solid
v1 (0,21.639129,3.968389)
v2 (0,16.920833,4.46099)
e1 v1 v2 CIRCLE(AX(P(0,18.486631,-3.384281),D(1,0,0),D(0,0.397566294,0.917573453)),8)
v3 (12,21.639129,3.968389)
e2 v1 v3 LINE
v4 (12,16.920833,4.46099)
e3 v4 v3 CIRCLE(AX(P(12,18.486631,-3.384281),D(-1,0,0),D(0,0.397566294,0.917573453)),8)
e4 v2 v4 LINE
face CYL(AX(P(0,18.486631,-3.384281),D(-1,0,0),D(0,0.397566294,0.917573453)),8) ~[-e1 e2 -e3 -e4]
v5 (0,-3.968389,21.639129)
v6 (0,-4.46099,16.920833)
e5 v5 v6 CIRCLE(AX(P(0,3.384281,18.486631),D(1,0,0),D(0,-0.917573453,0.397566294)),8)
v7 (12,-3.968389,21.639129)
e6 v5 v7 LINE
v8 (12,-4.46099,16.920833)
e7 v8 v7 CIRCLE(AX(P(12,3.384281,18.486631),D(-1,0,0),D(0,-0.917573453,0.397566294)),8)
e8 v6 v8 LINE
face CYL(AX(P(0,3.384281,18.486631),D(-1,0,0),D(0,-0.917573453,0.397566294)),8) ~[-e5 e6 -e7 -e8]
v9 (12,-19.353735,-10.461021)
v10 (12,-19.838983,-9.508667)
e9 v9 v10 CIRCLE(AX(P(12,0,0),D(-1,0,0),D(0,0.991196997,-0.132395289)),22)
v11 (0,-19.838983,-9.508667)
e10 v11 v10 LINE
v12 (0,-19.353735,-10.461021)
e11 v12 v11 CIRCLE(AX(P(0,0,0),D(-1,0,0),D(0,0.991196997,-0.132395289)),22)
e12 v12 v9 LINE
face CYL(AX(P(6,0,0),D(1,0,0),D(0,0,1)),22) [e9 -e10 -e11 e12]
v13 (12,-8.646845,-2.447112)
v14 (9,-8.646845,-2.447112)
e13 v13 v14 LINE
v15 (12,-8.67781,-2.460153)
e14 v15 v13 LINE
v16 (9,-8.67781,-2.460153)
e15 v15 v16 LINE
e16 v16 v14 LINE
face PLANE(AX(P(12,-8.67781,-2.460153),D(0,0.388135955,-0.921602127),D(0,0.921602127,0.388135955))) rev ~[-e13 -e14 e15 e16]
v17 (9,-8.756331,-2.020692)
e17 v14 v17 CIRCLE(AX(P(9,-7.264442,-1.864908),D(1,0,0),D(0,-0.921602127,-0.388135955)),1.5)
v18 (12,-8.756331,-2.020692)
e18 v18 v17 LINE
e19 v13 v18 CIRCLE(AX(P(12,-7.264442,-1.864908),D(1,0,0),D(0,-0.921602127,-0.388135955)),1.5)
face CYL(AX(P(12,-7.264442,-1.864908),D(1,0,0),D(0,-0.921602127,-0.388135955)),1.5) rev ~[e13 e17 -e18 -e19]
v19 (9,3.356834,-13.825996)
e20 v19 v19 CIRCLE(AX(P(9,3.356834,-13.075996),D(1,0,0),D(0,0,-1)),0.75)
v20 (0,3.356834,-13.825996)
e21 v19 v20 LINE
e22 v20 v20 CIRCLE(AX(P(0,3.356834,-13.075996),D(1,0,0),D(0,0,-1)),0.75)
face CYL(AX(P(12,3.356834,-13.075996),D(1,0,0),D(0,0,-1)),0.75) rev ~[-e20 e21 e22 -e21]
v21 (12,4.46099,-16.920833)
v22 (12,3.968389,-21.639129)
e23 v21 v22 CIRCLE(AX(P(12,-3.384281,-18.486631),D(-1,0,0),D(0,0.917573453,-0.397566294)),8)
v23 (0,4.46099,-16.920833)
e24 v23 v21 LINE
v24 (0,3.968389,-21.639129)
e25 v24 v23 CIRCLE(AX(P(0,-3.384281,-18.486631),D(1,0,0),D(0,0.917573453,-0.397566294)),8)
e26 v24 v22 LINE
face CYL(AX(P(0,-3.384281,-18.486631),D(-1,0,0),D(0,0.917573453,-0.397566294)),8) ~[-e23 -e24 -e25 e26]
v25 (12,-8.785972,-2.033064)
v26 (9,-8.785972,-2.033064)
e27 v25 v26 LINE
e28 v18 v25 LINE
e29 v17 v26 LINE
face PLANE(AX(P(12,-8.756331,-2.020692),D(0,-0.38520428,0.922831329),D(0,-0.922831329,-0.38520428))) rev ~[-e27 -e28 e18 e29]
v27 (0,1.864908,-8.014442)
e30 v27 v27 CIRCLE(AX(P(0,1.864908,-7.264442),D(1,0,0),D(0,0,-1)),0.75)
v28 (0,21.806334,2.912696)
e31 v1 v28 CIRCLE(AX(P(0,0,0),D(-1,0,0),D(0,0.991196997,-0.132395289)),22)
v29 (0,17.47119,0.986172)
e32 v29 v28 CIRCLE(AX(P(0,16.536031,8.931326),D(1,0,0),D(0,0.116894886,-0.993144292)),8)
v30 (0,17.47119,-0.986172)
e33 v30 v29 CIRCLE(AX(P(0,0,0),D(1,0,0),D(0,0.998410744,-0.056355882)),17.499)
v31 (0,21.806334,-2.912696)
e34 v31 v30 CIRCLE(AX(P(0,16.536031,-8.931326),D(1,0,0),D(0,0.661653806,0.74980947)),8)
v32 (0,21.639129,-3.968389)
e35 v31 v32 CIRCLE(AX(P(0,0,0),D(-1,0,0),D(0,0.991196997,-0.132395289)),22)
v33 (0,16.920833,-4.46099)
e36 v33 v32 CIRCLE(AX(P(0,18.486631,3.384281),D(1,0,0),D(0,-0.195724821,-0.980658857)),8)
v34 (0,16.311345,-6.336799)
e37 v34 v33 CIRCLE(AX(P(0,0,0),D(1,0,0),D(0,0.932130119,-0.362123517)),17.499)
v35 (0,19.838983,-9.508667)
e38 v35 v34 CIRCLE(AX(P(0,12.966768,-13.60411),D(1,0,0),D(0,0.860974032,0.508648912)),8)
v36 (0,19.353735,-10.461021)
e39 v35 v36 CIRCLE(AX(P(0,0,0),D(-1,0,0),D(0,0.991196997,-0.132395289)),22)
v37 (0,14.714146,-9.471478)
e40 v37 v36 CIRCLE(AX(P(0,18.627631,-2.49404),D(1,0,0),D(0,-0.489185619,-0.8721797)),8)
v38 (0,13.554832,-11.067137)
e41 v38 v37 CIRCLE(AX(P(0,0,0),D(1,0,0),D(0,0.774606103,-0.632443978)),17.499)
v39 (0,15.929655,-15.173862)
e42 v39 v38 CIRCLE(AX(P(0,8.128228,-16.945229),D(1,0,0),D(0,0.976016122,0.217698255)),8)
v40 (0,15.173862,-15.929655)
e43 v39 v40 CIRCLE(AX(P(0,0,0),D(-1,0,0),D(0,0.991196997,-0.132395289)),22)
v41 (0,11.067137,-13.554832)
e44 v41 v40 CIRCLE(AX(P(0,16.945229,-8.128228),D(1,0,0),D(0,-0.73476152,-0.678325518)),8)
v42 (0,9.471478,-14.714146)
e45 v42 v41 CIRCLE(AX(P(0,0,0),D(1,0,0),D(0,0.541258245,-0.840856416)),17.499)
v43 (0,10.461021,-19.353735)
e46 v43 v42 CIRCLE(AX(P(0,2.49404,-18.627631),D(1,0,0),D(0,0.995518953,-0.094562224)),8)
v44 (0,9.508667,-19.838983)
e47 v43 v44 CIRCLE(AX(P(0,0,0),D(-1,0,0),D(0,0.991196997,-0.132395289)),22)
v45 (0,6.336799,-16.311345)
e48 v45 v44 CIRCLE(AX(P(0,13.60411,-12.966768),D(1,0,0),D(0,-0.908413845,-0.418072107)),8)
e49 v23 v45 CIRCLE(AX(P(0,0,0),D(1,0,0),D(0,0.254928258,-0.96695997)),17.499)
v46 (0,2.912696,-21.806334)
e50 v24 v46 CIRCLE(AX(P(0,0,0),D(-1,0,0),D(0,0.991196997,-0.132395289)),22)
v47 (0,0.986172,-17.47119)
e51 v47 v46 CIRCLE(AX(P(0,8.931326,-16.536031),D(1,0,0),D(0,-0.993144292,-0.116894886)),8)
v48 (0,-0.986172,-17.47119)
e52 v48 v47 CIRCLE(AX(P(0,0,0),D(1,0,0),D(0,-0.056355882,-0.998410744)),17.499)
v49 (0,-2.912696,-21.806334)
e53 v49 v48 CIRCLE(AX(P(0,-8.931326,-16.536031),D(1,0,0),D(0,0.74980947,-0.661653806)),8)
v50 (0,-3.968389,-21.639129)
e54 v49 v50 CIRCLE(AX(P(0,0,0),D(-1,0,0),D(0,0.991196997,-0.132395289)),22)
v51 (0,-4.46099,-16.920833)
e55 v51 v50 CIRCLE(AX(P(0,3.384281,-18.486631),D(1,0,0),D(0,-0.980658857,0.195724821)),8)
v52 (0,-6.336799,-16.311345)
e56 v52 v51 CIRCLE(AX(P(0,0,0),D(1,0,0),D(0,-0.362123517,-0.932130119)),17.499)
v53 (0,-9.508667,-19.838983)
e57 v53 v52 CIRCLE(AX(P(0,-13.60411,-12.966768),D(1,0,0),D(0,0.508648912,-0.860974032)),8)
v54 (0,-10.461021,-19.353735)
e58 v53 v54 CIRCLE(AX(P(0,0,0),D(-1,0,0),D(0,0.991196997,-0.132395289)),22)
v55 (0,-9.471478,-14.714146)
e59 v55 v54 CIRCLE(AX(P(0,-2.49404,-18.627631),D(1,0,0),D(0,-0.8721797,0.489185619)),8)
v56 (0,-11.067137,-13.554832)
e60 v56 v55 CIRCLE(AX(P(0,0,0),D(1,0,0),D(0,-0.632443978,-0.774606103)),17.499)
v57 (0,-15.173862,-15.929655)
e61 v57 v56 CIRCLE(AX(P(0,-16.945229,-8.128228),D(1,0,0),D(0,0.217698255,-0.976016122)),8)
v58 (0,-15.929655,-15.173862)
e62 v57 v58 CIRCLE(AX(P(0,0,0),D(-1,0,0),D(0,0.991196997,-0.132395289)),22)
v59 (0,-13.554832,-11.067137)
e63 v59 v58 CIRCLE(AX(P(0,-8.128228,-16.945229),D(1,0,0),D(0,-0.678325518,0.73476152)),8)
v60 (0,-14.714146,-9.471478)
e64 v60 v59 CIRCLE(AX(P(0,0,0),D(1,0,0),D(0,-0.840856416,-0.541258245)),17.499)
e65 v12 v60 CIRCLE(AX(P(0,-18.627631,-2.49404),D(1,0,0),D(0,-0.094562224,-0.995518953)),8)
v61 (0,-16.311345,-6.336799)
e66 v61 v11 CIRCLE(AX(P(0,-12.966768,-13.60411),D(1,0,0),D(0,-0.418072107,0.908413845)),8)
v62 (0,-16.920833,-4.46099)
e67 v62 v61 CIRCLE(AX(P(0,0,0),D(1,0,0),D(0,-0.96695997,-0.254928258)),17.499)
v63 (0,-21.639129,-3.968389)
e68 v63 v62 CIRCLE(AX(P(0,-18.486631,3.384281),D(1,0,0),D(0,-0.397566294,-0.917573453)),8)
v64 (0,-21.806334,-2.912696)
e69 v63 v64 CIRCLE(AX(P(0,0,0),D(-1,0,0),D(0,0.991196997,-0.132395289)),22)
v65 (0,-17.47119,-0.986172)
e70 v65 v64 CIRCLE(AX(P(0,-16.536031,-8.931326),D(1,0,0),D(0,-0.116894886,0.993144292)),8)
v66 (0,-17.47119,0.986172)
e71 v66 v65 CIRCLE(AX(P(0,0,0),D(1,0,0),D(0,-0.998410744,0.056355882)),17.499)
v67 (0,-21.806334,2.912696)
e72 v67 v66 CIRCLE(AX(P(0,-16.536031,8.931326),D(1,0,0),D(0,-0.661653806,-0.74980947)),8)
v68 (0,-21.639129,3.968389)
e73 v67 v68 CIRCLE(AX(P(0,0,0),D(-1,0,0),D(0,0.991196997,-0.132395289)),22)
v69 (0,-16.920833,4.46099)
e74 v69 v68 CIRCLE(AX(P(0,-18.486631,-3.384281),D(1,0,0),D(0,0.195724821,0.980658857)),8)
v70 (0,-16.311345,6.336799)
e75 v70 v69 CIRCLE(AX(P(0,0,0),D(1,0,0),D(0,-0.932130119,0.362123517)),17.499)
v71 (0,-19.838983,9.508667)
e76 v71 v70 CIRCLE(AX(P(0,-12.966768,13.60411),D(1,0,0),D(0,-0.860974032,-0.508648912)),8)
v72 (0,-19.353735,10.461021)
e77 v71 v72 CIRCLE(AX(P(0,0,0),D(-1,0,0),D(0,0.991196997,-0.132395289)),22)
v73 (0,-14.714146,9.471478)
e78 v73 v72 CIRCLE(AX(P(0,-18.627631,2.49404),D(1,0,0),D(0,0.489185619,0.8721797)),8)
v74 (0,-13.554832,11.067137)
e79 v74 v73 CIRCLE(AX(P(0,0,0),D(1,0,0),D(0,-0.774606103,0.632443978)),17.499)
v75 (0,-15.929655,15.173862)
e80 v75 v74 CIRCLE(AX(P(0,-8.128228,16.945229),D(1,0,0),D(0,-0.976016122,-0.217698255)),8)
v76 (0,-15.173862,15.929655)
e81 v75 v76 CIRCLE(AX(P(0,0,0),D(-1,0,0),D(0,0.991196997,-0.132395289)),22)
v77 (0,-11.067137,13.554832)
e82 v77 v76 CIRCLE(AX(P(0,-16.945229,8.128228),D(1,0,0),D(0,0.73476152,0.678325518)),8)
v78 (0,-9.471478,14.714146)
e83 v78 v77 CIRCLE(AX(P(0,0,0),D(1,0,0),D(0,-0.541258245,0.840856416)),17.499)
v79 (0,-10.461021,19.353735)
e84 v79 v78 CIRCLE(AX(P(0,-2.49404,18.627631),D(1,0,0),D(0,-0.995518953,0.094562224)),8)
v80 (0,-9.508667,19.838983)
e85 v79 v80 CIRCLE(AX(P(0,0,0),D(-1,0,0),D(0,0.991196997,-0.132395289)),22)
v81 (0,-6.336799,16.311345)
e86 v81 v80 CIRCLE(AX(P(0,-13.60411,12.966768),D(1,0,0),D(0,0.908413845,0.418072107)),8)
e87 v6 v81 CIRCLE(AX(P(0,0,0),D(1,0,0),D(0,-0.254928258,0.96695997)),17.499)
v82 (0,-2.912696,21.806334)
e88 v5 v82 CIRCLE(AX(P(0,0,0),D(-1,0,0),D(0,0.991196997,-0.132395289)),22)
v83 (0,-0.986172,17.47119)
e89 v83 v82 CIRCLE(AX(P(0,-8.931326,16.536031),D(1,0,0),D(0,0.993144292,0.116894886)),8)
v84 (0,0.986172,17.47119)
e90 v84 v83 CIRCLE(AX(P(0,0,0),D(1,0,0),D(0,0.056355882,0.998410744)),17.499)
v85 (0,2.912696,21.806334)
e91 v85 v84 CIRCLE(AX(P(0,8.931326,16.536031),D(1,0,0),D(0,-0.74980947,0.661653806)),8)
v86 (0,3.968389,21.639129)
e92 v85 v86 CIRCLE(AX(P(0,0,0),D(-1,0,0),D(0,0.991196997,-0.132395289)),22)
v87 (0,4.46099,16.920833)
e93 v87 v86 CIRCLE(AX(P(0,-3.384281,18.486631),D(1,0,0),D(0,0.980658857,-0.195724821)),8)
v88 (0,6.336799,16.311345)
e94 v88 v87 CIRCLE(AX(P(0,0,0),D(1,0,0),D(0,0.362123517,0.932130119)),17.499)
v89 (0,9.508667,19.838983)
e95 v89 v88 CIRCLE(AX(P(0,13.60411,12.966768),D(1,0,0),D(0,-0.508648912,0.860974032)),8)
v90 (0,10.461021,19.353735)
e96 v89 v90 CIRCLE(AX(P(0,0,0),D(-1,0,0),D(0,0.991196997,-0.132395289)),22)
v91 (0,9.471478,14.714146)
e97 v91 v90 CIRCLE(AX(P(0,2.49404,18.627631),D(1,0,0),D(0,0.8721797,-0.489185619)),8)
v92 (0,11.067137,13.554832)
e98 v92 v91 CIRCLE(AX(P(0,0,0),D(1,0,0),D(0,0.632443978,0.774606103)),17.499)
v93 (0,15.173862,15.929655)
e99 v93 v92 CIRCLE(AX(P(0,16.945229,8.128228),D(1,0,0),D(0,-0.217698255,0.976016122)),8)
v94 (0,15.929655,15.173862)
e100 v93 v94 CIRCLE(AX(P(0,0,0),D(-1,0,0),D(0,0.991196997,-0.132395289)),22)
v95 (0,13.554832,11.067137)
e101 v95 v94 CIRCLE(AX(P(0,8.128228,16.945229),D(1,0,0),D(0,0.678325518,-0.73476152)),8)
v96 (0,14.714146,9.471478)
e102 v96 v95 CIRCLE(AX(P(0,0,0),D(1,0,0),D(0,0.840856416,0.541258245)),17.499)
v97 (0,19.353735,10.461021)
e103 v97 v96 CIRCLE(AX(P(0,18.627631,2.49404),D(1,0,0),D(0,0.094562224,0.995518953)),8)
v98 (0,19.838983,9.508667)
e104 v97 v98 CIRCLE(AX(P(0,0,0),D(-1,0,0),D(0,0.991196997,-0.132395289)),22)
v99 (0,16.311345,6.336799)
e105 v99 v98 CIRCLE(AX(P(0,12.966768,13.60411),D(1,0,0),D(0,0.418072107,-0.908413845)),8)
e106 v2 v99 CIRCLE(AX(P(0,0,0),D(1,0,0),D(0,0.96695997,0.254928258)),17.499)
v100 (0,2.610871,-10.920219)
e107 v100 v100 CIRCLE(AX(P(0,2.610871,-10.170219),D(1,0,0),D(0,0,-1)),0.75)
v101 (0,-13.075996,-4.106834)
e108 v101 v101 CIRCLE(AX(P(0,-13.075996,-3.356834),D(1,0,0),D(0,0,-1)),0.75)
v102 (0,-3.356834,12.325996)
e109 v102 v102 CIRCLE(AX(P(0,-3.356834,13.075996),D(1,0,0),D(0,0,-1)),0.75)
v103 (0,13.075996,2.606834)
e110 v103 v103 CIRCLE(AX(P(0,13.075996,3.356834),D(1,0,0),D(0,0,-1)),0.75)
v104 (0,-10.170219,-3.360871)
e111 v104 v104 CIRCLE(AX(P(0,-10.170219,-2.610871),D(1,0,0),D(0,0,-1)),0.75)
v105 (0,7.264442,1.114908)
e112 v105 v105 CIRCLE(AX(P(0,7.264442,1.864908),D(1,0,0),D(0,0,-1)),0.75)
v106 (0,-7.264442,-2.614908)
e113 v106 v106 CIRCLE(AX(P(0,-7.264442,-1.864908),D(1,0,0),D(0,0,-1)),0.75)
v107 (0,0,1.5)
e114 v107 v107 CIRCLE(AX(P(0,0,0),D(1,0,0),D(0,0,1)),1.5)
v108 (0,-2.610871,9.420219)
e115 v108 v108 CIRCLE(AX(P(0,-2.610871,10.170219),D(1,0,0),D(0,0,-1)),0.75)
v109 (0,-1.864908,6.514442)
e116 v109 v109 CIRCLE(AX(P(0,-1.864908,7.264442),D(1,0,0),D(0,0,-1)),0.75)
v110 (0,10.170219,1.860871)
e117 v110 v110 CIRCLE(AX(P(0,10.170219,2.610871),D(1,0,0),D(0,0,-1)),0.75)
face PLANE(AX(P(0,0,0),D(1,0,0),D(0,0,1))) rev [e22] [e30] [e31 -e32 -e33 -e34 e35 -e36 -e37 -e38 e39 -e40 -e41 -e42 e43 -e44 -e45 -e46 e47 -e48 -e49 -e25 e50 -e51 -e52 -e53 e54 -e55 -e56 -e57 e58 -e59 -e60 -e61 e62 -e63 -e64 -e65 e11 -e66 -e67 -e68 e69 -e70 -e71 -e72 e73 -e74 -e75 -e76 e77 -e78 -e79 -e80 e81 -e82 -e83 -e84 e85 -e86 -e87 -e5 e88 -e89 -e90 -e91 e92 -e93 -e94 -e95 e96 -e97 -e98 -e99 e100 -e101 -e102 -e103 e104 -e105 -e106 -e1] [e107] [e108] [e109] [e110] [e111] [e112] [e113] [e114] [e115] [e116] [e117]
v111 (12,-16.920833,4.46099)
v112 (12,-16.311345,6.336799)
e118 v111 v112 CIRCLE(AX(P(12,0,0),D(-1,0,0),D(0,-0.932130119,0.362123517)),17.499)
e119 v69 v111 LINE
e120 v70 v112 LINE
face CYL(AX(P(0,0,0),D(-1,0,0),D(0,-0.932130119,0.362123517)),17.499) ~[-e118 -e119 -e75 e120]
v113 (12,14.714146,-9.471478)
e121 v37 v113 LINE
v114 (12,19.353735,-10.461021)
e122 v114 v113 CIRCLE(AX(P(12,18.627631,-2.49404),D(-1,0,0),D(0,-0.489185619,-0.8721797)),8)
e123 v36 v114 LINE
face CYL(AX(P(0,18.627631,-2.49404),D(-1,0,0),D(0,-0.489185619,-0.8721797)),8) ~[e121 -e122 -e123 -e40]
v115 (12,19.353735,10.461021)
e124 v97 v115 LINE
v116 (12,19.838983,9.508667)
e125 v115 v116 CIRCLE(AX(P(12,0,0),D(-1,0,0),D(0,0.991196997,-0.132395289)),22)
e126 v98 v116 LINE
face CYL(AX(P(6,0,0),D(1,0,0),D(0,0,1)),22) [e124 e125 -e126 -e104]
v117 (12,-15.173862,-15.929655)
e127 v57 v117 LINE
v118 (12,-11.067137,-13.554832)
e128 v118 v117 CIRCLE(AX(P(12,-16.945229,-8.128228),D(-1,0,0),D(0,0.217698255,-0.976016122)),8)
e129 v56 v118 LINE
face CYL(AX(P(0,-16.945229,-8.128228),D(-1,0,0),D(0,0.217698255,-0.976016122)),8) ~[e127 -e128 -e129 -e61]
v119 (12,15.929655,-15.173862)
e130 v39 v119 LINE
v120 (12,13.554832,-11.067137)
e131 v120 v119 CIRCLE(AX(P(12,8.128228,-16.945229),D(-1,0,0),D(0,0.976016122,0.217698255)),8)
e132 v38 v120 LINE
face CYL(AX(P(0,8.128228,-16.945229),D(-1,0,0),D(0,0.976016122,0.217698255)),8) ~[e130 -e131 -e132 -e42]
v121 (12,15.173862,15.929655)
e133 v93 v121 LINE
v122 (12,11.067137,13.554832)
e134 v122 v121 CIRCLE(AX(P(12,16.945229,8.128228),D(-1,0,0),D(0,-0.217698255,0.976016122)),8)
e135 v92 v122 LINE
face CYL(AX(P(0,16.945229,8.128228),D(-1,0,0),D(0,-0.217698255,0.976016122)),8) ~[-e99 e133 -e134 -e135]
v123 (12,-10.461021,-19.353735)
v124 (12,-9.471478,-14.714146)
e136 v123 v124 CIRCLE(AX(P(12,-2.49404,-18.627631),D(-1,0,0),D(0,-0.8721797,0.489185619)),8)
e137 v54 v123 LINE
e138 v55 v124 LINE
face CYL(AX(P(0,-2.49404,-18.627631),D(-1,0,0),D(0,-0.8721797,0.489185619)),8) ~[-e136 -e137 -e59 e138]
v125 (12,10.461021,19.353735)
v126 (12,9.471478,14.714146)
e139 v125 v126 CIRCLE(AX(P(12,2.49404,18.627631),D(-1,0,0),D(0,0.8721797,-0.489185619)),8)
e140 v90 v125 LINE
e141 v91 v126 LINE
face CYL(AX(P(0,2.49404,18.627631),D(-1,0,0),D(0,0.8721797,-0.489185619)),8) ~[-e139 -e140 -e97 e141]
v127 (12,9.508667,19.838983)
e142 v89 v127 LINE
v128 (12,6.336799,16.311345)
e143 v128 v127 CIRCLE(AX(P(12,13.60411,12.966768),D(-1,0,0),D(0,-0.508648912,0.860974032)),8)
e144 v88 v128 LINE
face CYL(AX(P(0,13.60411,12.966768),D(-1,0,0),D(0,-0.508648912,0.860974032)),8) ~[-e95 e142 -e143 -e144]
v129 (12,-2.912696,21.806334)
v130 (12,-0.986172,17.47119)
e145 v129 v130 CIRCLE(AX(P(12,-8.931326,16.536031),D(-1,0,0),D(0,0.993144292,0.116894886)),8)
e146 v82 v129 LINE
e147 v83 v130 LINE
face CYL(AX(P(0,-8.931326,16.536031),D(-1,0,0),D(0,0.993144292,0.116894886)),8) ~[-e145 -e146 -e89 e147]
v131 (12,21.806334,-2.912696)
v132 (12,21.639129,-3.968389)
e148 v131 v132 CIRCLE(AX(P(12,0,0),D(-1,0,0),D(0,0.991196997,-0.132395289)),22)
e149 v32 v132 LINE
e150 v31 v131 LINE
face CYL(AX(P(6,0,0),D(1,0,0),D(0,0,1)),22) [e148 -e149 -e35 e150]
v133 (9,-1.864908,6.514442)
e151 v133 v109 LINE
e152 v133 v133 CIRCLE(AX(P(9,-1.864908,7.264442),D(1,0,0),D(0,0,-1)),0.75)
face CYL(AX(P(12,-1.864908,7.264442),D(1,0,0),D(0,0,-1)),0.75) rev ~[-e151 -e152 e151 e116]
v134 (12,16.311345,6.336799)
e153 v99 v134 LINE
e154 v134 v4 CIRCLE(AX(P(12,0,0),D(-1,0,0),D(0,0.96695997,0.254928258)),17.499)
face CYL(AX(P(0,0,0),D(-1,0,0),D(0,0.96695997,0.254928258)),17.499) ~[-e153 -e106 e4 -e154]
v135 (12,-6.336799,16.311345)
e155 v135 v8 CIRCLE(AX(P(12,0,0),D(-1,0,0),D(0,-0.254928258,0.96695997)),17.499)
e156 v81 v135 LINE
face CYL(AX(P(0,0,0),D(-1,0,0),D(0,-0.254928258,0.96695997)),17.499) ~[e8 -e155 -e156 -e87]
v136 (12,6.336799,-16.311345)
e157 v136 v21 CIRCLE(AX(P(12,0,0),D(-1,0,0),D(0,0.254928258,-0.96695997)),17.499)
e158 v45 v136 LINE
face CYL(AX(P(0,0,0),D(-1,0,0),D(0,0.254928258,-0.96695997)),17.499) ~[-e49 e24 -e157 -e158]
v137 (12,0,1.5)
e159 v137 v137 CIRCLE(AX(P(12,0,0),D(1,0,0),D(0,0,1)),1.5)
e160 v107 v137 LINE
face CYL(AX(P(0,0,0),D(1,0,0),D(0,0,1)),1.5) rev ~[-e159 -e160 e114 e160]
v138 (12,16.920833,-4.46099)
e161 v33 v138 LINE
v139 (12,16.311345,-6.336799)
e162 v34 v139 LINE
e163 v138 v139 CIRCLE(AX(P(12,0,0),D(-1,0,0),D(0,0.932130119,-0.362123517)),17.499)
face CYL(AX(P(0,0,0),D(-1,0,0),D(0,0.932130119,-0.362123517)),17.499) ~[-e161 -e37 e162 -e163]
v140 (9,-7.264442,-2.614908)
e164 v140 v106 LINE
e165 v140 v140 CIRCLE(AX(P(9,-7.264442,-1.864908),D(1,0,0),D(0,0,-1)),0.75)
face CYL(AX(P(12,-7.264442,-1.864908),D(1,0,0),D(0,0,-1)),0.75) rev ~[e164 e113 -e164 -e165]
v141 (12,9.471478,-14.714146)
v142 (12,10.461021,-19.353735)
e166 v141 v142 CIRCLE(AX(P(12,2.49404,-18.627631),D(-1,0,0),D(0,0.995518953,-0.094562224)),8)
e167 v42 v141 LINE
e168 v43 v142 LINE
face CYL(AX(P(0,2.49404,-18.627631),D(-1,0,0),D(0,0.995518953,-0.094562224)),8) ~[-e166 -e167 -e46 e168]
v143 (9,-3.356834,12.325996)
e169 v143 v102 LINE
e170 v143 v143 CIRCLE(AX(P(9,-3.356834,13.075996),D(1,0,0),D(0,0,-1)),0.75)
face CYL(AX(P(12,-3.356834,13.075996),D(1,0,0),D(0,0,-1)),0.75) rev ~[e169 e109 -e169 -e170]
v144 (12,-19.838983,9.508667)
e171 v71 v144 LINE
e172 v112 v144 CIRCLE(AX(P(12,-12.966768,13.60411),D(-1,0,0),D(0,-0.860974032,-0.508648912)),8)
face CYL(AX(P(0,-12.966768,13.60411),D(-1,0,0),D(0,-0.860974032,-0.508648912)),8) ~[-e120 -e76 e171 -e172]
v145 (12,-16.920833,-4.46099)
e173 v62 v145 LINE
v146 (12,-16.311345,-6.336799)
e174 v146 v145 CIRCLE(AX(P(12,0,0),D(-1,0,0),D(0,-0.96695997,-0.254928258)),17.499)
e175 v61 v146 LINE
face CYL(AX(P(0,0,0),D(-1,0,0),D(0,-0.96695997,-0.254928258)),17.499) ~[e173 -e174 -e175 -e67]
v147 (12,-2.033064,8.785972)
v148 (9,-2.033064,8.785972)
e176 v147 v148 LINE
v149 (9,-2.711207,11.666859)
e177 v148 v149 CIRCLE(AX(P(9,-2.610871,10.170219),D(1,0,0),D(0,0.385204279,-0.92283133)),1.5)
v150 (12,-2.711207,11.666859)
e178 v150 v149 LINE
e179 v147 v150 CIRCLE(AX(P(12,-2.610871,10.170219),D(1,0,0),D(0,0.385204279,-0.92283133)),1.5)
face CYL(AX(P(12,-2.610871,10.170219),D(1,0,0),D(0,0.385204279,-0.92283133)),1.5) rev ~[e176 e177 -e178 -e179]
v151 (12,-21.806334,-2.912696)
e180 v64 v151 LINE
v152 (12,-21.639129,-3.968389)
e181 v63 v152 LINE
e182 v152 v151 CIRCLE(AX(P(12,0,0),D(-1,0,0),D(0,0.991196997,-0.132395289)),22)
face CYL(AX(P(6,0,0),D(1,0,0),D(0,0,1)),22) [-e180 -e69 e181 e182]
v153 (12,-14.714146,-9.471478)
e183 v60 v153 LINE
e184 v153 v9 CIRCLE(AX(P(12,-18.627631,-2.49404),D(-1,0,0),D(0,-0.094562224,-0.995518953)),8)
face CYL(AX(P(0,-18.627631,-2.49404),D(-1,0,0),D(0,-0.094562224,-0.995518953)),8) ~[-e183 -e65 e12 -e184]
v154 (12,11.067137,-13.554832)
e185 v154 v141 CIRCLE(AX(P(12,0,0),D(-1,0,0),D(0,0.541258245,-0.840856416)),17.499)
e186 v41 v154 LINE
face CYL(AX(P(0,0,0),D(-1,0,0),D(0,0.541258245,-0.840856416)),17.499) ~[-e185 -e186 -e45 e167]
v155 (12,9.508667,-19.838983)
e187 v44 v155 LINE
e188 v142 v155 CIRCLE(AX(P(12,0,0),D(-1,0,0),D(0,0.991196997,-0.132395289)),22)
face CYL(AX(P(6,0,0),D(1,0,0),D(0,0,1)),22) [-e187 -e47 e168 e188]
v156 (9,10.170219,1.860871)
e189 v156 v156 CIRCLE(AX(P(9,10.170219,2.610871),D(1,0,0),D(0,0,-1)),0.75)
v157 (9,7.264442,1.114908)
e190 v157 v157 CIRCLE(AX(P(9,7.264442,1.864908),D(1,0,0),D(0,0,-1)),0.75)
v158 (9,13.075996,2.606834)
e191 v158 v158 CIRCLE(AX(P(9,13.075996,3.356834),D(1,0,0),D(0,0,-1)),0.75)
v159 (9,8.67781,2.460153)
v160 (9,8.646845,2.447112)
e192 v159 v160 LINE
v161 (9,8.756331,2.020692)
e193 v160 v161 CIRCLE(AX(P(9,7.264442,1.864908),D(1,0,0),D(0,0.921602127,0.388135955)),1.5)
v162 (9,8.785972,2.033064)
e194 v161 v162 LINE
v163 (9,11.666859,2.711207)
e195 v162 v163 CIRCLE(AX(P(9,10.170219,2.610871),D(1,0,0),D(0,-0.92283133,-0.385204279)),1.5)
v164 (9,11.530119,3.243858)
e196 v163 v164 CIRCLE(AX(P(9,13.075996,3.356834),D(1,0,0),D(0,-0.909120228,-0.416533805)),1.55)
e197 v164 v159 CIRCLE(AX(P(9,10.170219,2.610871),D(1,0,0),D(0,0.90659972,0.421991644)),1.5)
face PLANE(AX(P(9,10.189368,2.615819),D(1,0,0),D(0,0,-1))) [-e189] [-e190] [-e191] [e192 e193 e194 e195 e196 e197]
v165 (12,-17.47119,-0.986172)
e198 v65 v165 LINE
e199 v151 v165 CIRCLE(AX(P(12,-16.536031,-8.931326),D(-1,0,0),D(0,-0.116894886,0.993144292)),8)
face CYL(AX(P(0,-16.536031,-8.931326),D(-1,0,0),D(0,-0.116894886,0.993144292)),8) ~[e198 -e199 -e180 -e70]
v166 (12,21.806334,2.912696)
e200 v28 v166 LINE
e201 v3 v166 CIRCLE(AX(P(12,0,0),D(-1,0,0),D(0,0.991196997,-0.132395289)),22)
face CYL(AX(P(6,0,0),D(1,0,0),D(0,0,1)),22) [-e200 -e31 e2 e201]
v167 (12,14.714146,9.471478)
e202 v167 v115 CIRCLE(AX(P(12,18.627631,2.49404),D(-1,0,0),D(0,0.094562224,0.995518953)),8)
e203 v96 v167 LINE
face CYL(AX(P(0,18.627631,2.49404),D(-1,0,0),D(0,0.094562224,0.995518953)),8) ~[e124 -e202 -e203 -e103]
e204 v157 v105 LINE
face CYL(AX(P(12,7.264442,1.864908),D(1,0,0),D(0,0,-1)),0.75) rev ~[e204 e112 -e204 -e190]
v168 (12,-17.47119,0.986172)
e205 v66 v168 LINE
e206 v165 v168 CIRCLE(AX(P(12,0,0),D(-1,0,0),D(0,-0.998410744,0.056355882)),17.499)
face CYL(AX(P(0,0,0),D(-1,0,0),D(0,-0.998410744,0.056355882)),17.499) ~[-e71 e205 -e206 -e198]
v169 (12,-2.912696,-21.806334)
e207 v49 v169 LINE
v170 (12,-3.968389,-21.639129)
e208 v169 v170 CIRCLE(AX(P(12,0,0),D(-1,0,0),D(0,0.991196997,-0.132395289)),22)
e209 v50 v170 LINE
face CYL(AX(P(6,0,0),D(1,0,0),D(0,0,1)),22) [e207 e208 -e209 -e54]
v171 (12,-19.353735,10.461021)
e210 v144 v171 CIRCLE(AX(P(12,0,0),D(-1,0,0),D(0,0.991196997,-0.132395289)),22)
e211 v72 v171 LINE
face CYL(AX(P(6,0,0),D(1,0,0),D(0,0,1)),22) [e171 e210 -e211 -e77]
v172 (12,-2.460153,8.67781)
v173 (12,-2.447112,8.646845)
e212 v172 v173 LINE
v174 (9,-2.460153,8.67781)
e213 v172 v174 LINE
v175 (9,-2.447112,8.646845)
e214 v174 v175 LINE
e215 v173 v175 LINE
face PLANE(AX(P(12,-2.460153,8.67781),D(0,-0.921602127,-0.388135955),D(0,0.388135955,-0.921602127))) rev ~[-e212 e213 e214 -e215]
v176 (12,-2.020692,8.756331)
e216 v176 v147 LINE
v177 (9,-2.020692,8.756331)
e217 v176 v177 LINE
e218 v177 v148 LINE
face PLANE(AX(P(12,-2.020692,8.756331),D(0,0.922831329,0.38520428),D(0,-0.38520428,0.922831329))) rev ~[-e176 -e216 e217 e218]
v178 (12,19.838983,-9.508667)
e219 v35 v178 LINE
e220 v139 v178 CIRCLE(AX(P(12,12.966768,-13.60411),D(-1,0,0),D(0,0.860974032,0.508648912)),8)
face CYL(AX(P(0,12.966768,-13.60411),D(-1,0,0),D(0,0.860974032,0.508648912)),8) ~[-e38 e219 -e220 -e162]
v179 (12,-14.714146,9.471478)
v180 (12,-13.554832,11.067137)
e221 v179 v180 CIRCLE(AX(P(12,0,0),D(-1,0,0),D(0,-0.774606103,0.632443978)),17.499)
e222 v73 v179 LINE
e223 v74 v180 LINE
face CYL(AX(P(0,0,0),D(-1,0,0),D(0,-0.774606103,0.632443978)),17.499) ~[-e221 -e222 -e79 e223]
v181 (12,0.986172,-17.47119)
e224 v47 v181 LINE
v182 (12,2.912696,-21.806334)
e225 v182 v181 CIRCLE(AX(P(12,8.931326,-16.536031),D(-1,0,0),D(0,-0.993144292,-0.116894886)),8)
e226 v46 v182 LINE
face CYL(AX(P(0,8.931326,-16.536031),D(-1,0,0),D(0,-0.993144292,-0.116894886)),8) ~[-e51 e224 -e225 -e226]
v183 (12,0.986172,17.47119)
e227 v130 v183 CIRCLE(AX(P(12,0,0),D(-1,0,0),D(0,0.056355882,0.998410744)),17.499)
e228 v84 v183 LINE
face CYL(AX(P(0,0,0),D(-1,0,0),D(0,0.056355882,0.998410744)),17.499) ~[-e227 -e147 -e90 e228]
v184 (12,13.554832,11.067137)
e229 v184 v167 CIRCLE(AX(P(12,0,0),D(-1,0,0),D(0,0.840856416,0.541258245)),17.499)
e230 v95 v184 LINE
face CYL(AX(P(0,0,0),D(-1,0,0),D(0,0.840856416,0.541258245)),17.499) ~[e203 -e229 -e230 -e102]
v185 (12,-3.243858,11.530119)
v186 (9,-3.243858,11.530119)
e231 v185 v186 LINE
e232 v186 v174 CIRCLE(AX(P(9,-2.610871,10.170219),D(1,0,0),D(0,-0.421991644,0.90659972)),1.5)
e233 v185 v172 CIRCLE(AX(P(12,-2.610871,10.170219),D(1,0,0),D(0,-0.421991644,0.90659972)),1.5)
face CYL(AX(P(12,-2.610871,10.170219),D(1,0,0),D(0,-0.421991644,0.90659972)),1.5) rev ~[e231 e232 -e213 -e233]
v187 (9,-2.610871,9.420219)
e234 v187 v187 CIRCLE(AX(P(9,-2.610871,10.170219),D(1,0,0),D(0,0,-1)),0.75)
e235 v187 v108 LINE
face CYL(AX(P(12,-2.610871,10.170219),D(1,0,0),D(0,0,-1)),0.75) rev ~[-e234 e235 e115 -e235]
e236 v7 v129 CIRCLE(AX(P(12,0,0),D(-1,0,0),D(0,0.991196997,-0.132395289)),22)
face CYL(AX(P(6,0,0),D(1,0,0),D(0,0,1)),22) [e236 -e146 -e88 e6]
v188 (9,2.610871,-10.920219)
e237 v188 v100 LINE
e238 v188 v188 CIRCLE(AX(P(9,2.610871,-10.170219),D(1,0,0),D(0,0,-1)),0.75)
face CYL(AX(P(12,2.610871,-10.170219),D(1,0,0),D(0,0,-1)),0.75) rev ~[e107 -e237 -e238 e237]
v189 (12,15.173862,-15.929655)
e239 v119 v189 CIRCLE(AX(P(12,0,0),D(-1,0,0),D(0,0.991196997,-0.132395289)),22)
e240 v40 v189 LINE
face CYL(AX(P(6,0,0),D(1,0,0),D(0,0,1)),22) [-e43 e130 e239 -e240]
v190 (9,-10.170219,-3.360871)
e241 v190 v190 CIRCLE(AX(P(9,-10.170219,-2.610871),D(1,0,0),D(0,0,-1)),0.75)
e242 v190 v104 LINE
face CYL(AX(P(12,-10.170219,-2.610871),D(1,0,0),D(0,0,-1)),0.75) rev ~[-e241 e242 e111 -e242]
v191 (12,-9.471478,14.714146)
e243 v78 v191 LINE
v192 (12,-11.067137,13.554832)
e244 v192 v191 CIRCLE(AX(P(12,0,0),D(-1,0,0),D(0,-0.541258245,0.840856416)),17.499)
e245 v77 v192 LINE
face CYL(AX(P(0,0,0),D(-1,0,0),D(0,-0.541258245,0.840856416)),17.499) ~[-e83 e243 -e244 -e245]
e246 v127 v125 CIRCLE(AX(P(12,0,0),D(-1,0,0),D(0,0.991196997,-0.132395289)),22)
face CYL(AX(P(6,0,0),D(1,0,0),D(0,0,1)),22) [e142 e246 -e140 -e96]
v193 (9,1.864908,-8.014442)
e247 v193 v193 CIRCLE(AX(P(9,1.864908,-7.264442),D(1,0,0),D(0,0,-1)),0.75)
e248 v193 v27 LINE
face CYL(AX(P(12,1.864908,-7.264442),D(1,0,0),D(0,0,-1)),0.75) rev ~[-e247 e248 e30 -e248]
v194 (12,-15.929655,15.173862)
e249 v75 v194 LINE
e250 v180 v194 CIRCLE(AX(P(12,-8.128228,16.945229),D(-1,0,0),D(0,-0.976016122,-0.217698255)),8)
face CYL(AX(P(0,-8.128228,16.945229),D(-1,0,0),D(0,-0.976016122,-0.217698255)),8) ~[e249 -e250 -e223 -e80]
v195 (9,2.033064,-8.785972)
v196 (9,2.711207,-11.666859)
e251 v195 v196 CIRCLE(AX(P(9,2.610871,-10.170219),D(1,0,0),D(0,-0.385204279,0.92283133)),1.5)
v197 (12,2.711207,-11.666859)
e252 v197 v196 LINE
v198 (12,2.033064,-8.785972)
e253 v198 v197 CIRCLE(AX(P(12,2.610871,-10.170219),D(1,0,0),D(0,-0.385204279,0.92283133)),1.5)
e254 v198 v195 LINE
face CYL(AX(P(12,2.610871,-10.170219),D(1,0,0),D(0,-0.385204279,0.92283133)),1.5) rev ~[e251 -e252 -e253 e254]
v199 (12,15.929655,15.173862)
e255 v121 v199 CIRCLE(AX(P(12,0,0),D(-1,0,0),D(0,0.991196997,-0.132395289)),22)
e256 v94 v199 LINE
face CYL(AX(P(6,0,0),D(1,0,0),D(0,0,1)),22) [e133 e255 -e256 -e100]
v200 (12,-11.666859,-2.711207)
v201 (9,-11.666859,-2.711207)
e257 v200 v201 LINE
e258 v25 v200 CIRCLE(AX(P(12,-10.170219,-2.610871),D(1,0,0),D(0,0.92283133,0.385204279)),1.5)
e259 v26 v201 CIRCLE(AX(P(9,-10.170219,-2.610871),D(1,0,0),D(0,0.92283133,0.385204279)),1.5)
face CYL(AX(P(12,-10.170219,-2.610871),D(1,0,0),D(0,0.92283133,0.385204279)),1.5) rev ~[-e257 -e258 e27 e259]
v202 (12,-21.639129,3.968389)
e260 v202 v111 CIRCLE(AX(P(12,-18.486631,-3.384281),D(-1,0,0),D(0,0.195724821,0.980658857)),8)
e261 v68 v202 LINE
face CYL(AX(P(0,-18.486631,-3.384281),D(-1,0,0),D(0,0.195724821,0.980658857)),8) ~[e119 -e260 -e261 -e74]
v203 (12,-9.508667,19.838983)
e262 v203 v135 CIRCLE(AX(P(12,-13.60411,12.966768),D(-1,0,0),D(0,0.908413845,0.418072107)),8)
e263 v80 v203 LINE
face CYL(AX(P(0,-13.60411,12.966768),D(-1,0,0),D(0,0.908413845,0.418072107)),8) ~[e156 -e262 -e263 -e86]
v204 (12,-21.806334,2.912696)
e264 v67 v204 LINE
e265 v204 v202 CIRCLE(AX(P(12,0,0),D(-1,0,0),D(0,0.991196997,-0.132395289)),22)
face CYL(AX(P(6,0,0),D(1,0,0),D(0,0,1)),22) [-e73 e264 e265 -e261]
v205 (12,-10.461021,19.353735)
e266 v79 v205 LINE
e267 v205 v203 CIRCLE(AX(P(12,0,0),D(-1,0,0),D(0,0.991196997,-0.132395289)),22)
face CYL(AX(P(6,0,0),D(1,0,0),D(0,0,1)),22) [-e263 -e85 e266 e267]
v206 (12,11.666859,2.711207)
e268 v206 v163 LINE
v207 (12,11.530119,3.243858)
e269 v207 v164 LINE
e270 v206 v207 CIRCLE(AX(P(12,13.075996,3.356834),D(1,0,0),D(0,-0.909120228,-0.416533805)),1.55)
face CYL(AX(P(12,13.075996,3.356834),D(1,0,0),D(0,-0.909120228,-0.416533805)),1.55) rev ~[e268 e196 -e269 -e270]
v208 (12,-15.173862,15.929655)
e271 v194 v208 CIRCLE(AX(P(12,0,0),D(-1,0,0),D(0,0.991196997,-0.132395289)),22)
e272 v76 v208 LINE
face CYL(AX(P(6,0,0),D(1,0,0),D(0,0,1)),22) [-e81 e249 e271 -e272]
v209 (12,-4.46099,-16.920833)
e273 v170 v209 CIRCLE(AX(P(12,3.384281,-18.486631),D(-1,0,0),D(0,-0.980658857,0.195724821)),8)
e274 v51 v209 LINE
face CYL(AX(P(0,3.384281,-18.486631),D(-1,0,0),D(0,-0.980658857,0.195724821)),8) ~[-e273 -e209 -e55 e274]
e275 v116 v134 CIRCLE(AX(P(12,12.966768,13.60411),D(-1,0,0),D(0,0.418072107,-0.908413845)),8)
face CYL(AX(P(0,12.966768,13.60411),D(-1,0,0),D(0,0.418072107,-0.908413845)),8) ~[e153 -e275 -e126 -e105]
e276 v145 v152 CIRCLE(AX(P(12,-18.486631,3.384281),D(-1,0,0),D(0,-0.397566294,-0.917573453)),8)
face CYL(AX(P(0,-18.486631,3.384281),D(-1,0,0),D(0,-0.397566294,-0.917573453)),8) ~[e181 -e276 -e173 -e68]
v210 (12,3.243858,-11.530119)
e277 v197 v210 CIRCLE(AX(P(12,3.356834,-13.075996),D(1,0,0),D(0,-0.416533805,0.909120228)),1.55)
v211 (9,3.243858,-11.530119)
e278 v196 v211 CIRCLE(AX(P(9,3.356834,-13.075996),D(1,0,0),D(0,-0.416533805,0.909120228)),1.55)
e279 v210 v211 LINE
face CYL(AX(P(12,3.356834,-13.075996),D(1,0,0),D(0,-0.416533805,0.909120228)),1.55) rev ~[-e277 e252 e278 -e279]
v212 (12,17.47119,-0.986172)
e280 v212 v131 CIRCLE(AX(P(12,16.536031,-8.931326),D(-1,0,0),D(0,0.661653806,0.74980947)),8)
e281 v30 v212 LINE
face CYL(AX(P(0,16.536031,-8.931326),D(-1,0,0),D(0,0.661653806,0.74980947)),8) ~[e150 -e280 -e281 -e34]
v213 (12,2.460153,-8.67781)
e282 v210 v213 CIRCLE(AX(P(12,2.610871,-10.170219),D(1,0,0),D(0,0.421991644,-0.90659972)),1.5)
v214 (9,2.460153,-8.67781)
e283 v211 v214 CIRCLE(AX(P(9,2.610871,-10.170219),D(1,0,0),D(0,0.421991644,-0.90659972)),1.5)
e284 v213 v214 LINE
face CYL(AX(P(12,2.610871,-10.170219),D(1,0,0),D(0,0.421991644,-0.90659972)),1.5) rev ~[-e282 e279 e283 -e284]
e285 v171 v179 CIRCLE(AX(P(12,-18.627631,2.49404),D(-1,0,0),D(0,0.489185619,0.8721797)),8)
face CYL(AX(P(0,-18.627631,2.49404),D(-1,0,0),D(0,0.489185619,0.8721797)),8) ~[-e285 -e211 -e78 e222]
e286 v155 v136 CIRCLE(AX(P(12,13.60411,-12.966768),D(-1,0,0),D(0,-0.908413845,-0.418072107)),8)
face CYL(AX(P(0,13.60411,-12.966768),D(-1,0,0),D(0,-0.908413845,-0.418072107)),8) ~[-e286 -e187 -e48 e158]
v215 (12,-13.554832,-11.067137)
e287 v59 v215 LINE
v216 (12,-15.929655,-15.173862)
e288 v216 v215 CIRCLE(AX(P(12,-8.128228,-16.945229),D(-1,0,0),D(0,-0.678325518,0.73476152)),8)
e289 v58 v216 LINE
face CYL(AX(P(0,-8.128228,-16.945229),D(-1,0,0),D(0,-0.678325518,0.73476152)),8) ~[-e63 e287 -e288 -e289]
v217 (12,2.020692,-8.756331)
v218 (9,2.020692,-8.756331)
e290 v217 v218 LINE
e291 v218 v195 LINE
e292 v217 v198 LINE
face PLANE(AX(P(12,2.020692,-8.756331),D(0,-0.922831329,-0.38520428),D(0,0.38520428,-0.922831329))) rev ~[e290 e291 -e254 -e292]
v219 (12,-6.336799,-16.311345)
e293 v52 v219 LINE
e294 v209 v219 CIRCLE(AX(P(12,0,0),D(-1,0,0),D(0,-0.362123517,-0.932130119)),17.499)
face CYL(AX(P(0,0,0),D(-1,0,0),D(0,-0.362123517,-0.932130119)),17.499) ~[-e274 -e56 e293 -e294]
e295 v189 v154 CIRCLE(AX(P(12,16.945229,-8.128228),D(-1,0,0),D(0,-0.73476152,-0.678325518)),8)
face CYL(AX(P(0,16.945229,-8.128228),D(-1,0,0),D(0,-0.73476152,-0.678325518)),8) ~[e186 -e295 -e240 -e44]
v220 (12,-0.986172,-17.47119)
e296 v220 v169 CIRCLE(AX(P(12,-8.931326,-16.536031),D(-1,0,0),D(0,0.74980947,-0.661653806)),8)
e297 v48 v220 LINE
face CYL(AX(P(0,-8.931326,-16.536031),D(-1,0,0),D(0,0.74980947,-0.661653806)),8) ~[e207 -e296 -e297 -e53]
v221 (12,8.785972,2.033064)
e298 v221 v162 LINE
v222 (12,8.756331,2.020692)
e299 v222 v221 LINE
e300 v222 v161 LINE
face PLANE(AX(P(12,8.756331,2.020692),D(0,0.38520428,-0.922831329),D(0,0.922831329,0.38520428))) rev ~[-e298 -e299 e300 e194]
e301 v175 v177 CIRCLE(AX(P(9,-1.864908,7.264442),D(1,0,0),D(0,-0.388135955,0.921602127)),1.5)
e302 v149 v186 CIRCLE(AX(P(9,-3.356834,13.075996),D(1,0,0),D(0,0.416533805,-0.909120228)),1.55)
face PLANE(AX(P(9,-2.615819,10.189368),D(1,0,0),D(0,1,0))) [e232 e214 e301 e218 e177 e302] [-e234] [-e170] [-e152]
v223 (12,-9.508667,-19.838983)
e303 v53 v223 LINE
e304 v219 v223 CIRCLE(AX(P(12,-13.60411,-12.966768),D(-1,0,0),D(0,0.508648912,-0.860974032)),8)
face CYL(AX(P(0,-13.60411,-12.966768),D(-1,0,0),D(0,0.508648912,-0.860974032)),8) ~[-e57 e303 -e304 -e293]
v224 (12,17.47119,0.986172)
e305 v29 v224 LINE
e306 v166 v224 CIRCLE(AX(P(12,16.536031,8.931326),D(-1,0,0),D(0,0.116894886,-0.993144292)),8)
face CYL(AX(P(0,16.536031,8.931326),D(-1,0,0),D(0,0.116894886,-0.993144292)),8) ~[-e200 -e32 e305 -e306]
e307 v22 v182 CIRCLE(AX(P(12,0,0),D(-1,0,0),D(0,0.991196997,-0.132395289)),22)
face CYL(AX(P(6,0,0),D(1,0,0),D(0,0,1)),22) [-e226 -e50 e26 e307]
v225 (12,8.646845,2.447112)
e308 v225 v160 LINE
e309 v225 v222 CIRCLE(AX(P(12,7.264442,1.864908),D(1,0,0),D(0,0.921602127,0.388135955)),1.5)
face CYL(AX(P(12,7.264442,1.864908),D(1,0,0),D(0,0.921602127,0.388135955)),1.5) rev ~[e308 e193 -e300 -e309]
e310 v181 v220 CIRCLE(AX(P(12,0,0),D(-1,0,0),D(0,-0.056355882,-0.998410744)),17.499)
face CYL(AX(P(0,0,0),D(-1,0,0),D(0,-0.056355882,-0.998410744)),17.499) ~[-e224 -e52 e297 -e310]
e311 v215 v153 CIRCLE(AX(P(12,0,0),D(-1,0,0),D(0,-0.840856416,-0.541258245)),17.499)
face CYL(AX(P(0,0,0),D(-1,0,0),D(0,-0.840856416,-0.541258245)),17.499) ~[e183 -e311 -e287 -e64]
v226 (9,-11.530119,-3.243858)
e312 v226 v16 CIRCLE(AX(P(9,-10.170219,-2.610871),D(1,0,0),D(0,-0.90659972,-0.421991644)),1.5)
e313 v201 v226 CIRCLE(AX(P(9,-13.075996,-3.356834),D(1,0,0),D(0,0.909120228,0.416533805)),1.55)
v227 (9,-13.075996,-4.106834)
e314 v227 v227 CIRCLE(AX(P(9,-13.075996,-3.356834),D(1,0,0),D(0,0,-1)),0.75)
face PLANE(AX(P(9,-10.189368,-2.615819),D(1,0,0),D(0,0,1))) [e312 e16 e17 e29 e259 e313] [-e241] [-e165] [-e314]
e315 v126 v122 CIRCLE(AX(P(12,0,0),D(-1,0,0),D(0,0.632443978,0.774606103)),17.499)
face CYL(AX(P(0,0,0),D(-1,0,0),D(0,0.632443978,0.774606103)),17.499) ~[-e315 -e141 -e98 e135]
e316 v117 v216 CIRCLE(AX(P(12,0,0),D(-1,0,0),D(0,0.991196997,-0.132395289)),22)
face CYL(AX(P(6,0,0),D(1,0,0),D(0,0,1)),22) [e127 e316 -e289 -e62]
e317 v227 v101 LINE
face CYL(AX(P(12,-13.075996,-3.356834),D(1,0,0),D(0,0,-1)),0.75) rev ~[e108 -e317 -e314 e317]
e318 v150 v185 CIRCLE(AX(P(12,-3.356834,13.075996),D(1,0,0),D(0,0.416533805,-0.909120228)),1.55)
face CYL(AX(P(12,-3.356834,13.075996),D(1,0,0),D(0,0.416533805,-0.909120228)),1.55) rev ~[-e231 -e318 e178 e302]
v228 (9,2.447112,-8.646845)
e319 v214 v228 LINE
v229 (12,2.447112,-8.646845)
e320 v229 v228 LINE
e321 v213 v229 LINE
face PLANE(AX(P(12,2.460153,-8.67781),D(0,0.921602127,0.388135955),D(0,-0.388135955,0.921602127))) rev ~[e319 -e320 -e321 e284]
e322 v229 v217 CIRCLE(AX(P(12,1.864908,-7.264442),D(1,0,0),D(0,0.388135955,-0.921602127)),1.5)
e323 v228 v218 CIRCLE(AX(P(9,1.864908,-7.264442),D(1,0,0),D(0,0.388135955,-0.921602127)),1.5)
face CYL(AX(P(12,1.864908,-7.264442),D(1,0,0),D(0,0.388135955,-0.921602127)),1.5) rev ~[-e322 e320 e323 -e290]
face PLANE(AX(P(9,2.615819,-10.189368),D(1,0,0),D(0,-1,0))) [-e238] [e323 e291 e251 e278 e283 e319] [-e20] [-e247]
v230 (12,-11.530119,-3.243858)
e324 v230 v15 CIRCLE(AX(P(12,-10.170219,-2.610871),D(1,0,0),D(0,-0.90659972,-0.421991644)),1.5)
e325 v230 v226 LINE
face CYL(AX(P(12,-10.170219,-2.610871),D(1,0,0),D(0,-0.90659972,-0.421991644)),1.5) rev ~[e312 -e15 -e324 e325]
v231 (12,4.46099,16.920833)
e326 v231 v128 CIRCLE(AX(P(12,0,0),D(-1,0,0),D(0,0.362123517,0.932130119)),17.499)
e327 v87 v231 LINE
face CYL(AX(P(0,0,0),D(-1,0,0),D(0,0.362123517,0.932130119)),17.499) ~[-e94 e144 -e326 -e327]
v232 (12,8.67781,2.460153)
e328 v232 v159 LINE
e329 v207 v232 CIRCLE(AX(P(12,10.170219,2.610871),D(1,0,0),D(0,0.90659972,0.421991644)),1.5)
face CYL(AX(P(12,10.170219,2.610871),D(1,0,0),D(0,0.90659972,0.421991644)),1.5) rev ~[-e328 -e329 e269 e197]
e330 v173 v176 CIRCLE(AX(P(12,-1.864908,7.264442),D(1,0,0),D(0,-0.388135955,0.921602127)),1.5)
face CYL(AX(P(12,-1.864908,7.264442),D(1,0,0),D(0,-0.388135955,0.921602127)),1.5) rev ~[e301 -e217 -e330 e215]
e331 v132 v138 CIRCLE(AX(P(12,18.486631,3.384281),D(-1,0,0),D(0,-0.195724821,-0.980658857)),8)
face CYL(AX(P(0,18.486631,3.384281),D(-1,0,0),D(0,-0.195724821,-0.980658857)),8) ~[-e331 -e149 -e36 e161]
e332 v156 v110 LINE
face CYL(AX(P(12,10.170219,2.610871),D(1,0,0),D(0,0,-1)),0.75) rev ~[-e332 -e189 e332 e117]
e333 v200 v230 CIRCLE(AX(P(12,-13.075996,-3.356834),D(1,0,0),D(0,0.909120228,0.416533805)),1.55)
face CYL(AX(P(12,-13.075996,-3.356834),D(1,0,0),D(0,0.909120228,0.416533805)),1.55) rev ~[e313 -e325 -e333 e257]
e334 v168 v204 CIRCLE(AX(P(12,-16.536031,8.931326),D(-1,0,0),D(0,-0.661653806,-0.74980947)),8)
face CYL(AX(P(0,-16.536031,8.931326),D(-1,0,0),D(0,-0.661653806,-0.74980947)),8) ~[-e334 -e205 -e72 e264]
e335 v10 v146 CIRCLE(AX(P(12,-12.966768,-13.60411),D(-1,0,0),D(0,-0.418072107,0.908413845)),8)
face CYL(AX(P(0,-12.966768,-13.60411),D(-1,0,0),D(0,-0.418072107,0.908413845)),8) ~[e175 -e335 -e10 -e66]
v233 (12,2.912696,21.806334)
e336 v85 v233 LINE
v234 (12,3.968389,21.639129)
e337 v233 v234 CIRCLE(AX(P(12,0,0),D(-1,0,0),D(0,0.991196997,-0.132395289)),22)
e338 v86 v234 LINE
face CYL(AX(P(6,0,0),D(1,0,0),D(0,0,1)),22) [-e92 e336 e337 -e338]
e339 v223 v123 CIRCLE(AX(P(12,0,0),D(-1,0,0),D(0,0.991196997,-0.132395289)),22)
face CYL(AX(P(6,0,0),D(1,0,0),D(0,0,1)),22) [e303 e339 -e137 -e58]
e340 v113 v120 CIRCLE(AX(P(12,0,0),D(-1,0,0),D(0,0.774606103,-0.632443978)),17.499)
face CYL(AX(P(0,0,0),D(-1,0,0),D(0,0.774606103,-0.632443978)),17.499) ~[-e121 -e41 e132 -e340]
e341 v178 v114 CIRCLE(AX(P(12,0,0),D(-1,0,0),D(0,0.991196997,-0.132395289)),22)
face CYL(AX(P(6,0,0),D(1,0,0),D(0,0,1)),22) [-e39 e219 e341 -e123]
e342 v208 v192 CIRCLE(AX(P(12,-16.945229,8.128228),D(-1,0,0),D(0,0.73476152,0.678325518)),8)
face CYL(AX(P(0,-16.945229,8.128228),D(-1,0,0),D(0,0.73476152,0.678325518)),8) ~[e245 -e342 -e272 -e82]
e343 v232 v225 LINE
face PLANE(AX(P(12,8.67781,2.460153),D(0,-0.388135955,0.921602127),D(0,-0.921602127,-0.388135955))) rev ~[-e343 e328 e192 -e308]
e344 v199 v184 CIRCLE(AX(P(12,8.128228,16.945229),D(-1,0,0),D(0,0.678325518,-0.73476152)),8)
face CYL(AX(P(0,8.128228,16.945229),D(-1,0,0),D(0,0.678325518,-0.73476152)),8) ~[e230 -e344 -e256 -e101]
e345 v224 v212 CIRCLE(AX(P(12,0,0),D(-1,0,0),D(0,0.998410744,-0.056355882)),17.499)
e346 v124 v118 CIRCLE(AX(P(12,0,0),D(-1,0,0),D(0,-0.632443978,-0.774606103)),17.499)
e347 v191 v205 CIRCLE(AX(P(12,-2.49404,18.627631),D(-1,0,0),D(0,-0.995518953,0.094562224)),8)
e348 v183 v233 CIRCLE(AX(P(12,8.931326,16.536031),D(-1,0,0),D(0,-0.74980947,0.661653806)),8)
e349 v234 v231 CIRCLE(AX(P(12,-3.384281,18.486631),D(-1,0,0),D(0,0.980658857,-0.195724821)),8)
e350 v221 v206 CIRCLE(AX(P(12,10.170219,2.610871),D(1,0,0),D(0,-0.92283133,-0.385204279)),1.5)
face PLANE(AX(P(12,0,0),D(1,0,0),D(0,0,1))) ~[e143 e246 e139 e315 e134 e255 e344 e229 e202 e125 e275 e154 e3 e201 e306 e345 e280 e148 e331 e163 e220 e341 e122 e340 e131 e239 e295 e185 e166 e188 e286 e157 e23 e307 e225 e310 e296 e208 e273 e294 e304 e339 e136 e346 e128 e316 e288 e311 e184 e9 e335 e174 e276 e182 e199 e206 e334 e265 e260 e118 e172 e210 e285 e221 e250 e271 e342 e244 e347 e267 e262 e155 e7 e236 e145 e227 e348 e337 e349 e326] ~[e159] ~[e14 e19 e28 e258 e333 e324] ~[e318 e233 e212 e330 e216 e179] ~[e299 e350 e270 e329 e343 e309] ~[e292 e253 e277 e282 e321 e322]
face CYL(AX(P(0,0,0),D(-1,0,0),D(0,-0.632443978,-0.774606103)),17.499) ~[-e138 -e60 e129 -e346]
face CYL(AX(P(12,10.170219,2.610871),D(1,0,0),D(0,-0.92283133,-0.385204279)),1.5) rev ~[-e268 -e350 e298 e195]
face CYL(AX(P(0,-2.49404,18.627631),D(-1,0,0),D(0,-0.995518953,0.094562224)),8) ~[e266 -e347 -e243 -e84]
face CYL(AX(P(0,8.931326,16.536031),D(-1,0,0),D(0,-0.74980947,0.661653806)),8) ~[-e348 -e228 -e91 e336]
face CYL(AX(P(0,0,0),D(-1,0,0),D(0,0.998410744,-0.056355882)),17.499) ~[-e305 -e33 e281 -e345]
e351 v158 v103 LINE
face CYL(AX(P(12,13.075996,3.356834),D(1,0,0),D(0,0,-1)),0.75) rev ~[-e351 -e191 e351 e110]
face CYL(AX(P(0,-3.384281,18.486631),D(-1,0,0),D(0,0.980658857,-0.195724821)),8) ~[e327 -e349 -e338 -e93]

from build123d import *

# Parameters (mm, degrees)
BASPROSKE_W        = 12
BASPROSKE_H        = 22
TOOTHCUT_DEPTH     = 34.346664001
TEETHCUTS_COUNT    = 20
TEETHCUTS_ANGLE    = 342
BORSKE_R           = 1.5
BORE_DEPTH         = 50.0000508
SKETCH1_R          = 0.75
CUT_EXTRUDE1_DEPTH = 12
CUT_EXTRUDE2_DEPTH = 3
CIRPATTERN1_COUNT  = 4


with BuildPart() as part:
    # BasProSke → Base-Revolve (revolve)
    with BuildSketch(Plane(origin=(0, 0, 0), x_dir=(1, 0, 0), z_dir=(0, 1, 0)), mode=Mode.PRIVATE) as base_revolve_sk:
        with Locations((6, 11)):
            Rectangle(BASPROSKE_W, BASPROSKE_H)
    revolve(base_revolve_sk.sketch.rotate(Axis((-10, 0, 0), (1, 0, 0)), 180), axis=Axis((-10, 0, 0), (1, 0, 0)))

    # TooCutSke → ToothCut (cut, through all)
    with BuildSketch(Plane(origin=(0, 0, 0), x_dir=(0, 0, -1), z_dir=(1, 0, 0))):
        with BuildLine():
            ThreePointArc((0.986171591, 17.471189616), (0, 17.499), (-0.986171591, 17.471189616))
            ThreePointArc((-0.986171591, 17.471189616), (-1.626916196, 19.798789858), (-2.932850173, 21.829260982))
            ThreePointArc((-2.932850173, 21.829260982), (0, 22.0254), (2.932850173, 21.829260982))
            ThreePointArc((2.932850173, 21.829260982), (1.626916196, 19.798789858), (0.986171591, 17.471189616))
        make_face()
    toothcut = extrude(amount=TOOTHCUT_DEPTH, mode=Mode.SUBTRACT)

    # TeethCuts: ToothCut ×20 about axis
    teethcuts_axis = Axis((-10, 0, 0), (1, 0, 0))
    for i in range(1, TEETHCUTS_COUNT):
        add(toothcut.rotate(teethcuts_axis, i * TEETHCUTS_ANGLE / (TEETHCUTS_COUNT - 1)), mode=Mode.SUBTRACT)

    # BorSke → Bore (cut, symmetric)
    with BuildSketch(Plane(origin=(0, 0, 0), x_dir=(0, 0, -1), z_dir=(1, 0, 0))):
        with Locations(Location((0, 0, 0), (0, 0, 180))):
            Circle(BORSKE_R)
    extrude(amount=BORE_DEPTH, both=True, mode=Mode.SUBTRACT)

    # Sketch1 → Cut-Extrude1 (cut)
    with BuildSketch(Plane(origin=(12, 0, 0), x_dir=(0, 0, -1), z_dir=(1, 0, 0))):
        with Locations((-3.356833967, 13.075995783)):
            Circle(SKETCH1_R)
        with Locations((-2.610870863, 10.170218942)):
            Circle(SKETCH1_R)
        with Locations((10.170218942, 2.610870863)):
            Circle(SKETCH1_R)
        with Locations((13.075995783, 3.356833967)):
            Circle(SKETCH1_R)
        with Locations((-7.264442102, -1.864907759)):
            Circle(SKETCH1_R)
        with Locations((-10.170218942, -2.610870863)):
            Circle(SKETCH1_R)
        with Locations((1.864907759, -7.264442102)):
            Circle(SKETCH1_R)
        with Locations((3.356833967, -13.075995783)):
            Circle(SKETCH1_R)
        with Locations((-1.864907759, 7.264442102)):
            Circle(SKETCH1_R)
        with Locations((7.264442102, 1.864907759)):
            Circle(SKETCH1_R)
        with Locations((-13.075995783, -3.356833967)):
            Circle(SKETCH1_R)
        with Locations((2.610870863, -10.170218942)):
            Circle(SKETCH1_R)
    extrude(amount=-CUT_EXTRUDE1_DEPTH, mode=Mode.SUBTRACT)

    # Sketch1<3> → Cut-Extrude2 (cut)
    with BuildSketch(Plane(origin=(12, 0, 0), x_dir=(0, 0, -1), z_dir=(1, 0, 0))):
        with BuildLine():
            Line((-2.460152648, 8.677810145), (-2.447111692, 8.646845292))
            ThreePointArc((-2.447111692, 8.646845292), (-1.491875211, 5.811566774), (-2.020691692, 8.756330625))
            Line((-2.020691692, 8.756330625), (-2.033064445, 8.785971947))
            ThreePointArc((-2.033064445, 8.785971947), (-1.150777462, 10.513915407), (-2.71120657, 11.666859429))
            ThreePointArc((-2.71120657, 11.666859429), (-3.742248237, 14.577313817), (-3.24385833, 11.530118522))
            ThreePointArc((-3.24385833, 11.530118522), (-4.057266963, 9.772804395), (-2.460152648, 8.677810145))
        make_face()
    cut_extrude2 = extrude(amount=-CUT_EXTRUDE2_DEPTH, mode=Mode.SUBTRACT)

    # CirPattern1: Cut-Extrude2 ×4 about axis
    cirpattern1_axis = Axis((0, 0, 0), (1, 0, 0))
    for i in range(1, CIRPATTERN1_COUNT):
        add(cut_extrude2.rotate(cirpattern1_axis, i * 360 / CIRPATTERN1_COUNT), mode=Mode.SUBTRACT)


solid = part.part
